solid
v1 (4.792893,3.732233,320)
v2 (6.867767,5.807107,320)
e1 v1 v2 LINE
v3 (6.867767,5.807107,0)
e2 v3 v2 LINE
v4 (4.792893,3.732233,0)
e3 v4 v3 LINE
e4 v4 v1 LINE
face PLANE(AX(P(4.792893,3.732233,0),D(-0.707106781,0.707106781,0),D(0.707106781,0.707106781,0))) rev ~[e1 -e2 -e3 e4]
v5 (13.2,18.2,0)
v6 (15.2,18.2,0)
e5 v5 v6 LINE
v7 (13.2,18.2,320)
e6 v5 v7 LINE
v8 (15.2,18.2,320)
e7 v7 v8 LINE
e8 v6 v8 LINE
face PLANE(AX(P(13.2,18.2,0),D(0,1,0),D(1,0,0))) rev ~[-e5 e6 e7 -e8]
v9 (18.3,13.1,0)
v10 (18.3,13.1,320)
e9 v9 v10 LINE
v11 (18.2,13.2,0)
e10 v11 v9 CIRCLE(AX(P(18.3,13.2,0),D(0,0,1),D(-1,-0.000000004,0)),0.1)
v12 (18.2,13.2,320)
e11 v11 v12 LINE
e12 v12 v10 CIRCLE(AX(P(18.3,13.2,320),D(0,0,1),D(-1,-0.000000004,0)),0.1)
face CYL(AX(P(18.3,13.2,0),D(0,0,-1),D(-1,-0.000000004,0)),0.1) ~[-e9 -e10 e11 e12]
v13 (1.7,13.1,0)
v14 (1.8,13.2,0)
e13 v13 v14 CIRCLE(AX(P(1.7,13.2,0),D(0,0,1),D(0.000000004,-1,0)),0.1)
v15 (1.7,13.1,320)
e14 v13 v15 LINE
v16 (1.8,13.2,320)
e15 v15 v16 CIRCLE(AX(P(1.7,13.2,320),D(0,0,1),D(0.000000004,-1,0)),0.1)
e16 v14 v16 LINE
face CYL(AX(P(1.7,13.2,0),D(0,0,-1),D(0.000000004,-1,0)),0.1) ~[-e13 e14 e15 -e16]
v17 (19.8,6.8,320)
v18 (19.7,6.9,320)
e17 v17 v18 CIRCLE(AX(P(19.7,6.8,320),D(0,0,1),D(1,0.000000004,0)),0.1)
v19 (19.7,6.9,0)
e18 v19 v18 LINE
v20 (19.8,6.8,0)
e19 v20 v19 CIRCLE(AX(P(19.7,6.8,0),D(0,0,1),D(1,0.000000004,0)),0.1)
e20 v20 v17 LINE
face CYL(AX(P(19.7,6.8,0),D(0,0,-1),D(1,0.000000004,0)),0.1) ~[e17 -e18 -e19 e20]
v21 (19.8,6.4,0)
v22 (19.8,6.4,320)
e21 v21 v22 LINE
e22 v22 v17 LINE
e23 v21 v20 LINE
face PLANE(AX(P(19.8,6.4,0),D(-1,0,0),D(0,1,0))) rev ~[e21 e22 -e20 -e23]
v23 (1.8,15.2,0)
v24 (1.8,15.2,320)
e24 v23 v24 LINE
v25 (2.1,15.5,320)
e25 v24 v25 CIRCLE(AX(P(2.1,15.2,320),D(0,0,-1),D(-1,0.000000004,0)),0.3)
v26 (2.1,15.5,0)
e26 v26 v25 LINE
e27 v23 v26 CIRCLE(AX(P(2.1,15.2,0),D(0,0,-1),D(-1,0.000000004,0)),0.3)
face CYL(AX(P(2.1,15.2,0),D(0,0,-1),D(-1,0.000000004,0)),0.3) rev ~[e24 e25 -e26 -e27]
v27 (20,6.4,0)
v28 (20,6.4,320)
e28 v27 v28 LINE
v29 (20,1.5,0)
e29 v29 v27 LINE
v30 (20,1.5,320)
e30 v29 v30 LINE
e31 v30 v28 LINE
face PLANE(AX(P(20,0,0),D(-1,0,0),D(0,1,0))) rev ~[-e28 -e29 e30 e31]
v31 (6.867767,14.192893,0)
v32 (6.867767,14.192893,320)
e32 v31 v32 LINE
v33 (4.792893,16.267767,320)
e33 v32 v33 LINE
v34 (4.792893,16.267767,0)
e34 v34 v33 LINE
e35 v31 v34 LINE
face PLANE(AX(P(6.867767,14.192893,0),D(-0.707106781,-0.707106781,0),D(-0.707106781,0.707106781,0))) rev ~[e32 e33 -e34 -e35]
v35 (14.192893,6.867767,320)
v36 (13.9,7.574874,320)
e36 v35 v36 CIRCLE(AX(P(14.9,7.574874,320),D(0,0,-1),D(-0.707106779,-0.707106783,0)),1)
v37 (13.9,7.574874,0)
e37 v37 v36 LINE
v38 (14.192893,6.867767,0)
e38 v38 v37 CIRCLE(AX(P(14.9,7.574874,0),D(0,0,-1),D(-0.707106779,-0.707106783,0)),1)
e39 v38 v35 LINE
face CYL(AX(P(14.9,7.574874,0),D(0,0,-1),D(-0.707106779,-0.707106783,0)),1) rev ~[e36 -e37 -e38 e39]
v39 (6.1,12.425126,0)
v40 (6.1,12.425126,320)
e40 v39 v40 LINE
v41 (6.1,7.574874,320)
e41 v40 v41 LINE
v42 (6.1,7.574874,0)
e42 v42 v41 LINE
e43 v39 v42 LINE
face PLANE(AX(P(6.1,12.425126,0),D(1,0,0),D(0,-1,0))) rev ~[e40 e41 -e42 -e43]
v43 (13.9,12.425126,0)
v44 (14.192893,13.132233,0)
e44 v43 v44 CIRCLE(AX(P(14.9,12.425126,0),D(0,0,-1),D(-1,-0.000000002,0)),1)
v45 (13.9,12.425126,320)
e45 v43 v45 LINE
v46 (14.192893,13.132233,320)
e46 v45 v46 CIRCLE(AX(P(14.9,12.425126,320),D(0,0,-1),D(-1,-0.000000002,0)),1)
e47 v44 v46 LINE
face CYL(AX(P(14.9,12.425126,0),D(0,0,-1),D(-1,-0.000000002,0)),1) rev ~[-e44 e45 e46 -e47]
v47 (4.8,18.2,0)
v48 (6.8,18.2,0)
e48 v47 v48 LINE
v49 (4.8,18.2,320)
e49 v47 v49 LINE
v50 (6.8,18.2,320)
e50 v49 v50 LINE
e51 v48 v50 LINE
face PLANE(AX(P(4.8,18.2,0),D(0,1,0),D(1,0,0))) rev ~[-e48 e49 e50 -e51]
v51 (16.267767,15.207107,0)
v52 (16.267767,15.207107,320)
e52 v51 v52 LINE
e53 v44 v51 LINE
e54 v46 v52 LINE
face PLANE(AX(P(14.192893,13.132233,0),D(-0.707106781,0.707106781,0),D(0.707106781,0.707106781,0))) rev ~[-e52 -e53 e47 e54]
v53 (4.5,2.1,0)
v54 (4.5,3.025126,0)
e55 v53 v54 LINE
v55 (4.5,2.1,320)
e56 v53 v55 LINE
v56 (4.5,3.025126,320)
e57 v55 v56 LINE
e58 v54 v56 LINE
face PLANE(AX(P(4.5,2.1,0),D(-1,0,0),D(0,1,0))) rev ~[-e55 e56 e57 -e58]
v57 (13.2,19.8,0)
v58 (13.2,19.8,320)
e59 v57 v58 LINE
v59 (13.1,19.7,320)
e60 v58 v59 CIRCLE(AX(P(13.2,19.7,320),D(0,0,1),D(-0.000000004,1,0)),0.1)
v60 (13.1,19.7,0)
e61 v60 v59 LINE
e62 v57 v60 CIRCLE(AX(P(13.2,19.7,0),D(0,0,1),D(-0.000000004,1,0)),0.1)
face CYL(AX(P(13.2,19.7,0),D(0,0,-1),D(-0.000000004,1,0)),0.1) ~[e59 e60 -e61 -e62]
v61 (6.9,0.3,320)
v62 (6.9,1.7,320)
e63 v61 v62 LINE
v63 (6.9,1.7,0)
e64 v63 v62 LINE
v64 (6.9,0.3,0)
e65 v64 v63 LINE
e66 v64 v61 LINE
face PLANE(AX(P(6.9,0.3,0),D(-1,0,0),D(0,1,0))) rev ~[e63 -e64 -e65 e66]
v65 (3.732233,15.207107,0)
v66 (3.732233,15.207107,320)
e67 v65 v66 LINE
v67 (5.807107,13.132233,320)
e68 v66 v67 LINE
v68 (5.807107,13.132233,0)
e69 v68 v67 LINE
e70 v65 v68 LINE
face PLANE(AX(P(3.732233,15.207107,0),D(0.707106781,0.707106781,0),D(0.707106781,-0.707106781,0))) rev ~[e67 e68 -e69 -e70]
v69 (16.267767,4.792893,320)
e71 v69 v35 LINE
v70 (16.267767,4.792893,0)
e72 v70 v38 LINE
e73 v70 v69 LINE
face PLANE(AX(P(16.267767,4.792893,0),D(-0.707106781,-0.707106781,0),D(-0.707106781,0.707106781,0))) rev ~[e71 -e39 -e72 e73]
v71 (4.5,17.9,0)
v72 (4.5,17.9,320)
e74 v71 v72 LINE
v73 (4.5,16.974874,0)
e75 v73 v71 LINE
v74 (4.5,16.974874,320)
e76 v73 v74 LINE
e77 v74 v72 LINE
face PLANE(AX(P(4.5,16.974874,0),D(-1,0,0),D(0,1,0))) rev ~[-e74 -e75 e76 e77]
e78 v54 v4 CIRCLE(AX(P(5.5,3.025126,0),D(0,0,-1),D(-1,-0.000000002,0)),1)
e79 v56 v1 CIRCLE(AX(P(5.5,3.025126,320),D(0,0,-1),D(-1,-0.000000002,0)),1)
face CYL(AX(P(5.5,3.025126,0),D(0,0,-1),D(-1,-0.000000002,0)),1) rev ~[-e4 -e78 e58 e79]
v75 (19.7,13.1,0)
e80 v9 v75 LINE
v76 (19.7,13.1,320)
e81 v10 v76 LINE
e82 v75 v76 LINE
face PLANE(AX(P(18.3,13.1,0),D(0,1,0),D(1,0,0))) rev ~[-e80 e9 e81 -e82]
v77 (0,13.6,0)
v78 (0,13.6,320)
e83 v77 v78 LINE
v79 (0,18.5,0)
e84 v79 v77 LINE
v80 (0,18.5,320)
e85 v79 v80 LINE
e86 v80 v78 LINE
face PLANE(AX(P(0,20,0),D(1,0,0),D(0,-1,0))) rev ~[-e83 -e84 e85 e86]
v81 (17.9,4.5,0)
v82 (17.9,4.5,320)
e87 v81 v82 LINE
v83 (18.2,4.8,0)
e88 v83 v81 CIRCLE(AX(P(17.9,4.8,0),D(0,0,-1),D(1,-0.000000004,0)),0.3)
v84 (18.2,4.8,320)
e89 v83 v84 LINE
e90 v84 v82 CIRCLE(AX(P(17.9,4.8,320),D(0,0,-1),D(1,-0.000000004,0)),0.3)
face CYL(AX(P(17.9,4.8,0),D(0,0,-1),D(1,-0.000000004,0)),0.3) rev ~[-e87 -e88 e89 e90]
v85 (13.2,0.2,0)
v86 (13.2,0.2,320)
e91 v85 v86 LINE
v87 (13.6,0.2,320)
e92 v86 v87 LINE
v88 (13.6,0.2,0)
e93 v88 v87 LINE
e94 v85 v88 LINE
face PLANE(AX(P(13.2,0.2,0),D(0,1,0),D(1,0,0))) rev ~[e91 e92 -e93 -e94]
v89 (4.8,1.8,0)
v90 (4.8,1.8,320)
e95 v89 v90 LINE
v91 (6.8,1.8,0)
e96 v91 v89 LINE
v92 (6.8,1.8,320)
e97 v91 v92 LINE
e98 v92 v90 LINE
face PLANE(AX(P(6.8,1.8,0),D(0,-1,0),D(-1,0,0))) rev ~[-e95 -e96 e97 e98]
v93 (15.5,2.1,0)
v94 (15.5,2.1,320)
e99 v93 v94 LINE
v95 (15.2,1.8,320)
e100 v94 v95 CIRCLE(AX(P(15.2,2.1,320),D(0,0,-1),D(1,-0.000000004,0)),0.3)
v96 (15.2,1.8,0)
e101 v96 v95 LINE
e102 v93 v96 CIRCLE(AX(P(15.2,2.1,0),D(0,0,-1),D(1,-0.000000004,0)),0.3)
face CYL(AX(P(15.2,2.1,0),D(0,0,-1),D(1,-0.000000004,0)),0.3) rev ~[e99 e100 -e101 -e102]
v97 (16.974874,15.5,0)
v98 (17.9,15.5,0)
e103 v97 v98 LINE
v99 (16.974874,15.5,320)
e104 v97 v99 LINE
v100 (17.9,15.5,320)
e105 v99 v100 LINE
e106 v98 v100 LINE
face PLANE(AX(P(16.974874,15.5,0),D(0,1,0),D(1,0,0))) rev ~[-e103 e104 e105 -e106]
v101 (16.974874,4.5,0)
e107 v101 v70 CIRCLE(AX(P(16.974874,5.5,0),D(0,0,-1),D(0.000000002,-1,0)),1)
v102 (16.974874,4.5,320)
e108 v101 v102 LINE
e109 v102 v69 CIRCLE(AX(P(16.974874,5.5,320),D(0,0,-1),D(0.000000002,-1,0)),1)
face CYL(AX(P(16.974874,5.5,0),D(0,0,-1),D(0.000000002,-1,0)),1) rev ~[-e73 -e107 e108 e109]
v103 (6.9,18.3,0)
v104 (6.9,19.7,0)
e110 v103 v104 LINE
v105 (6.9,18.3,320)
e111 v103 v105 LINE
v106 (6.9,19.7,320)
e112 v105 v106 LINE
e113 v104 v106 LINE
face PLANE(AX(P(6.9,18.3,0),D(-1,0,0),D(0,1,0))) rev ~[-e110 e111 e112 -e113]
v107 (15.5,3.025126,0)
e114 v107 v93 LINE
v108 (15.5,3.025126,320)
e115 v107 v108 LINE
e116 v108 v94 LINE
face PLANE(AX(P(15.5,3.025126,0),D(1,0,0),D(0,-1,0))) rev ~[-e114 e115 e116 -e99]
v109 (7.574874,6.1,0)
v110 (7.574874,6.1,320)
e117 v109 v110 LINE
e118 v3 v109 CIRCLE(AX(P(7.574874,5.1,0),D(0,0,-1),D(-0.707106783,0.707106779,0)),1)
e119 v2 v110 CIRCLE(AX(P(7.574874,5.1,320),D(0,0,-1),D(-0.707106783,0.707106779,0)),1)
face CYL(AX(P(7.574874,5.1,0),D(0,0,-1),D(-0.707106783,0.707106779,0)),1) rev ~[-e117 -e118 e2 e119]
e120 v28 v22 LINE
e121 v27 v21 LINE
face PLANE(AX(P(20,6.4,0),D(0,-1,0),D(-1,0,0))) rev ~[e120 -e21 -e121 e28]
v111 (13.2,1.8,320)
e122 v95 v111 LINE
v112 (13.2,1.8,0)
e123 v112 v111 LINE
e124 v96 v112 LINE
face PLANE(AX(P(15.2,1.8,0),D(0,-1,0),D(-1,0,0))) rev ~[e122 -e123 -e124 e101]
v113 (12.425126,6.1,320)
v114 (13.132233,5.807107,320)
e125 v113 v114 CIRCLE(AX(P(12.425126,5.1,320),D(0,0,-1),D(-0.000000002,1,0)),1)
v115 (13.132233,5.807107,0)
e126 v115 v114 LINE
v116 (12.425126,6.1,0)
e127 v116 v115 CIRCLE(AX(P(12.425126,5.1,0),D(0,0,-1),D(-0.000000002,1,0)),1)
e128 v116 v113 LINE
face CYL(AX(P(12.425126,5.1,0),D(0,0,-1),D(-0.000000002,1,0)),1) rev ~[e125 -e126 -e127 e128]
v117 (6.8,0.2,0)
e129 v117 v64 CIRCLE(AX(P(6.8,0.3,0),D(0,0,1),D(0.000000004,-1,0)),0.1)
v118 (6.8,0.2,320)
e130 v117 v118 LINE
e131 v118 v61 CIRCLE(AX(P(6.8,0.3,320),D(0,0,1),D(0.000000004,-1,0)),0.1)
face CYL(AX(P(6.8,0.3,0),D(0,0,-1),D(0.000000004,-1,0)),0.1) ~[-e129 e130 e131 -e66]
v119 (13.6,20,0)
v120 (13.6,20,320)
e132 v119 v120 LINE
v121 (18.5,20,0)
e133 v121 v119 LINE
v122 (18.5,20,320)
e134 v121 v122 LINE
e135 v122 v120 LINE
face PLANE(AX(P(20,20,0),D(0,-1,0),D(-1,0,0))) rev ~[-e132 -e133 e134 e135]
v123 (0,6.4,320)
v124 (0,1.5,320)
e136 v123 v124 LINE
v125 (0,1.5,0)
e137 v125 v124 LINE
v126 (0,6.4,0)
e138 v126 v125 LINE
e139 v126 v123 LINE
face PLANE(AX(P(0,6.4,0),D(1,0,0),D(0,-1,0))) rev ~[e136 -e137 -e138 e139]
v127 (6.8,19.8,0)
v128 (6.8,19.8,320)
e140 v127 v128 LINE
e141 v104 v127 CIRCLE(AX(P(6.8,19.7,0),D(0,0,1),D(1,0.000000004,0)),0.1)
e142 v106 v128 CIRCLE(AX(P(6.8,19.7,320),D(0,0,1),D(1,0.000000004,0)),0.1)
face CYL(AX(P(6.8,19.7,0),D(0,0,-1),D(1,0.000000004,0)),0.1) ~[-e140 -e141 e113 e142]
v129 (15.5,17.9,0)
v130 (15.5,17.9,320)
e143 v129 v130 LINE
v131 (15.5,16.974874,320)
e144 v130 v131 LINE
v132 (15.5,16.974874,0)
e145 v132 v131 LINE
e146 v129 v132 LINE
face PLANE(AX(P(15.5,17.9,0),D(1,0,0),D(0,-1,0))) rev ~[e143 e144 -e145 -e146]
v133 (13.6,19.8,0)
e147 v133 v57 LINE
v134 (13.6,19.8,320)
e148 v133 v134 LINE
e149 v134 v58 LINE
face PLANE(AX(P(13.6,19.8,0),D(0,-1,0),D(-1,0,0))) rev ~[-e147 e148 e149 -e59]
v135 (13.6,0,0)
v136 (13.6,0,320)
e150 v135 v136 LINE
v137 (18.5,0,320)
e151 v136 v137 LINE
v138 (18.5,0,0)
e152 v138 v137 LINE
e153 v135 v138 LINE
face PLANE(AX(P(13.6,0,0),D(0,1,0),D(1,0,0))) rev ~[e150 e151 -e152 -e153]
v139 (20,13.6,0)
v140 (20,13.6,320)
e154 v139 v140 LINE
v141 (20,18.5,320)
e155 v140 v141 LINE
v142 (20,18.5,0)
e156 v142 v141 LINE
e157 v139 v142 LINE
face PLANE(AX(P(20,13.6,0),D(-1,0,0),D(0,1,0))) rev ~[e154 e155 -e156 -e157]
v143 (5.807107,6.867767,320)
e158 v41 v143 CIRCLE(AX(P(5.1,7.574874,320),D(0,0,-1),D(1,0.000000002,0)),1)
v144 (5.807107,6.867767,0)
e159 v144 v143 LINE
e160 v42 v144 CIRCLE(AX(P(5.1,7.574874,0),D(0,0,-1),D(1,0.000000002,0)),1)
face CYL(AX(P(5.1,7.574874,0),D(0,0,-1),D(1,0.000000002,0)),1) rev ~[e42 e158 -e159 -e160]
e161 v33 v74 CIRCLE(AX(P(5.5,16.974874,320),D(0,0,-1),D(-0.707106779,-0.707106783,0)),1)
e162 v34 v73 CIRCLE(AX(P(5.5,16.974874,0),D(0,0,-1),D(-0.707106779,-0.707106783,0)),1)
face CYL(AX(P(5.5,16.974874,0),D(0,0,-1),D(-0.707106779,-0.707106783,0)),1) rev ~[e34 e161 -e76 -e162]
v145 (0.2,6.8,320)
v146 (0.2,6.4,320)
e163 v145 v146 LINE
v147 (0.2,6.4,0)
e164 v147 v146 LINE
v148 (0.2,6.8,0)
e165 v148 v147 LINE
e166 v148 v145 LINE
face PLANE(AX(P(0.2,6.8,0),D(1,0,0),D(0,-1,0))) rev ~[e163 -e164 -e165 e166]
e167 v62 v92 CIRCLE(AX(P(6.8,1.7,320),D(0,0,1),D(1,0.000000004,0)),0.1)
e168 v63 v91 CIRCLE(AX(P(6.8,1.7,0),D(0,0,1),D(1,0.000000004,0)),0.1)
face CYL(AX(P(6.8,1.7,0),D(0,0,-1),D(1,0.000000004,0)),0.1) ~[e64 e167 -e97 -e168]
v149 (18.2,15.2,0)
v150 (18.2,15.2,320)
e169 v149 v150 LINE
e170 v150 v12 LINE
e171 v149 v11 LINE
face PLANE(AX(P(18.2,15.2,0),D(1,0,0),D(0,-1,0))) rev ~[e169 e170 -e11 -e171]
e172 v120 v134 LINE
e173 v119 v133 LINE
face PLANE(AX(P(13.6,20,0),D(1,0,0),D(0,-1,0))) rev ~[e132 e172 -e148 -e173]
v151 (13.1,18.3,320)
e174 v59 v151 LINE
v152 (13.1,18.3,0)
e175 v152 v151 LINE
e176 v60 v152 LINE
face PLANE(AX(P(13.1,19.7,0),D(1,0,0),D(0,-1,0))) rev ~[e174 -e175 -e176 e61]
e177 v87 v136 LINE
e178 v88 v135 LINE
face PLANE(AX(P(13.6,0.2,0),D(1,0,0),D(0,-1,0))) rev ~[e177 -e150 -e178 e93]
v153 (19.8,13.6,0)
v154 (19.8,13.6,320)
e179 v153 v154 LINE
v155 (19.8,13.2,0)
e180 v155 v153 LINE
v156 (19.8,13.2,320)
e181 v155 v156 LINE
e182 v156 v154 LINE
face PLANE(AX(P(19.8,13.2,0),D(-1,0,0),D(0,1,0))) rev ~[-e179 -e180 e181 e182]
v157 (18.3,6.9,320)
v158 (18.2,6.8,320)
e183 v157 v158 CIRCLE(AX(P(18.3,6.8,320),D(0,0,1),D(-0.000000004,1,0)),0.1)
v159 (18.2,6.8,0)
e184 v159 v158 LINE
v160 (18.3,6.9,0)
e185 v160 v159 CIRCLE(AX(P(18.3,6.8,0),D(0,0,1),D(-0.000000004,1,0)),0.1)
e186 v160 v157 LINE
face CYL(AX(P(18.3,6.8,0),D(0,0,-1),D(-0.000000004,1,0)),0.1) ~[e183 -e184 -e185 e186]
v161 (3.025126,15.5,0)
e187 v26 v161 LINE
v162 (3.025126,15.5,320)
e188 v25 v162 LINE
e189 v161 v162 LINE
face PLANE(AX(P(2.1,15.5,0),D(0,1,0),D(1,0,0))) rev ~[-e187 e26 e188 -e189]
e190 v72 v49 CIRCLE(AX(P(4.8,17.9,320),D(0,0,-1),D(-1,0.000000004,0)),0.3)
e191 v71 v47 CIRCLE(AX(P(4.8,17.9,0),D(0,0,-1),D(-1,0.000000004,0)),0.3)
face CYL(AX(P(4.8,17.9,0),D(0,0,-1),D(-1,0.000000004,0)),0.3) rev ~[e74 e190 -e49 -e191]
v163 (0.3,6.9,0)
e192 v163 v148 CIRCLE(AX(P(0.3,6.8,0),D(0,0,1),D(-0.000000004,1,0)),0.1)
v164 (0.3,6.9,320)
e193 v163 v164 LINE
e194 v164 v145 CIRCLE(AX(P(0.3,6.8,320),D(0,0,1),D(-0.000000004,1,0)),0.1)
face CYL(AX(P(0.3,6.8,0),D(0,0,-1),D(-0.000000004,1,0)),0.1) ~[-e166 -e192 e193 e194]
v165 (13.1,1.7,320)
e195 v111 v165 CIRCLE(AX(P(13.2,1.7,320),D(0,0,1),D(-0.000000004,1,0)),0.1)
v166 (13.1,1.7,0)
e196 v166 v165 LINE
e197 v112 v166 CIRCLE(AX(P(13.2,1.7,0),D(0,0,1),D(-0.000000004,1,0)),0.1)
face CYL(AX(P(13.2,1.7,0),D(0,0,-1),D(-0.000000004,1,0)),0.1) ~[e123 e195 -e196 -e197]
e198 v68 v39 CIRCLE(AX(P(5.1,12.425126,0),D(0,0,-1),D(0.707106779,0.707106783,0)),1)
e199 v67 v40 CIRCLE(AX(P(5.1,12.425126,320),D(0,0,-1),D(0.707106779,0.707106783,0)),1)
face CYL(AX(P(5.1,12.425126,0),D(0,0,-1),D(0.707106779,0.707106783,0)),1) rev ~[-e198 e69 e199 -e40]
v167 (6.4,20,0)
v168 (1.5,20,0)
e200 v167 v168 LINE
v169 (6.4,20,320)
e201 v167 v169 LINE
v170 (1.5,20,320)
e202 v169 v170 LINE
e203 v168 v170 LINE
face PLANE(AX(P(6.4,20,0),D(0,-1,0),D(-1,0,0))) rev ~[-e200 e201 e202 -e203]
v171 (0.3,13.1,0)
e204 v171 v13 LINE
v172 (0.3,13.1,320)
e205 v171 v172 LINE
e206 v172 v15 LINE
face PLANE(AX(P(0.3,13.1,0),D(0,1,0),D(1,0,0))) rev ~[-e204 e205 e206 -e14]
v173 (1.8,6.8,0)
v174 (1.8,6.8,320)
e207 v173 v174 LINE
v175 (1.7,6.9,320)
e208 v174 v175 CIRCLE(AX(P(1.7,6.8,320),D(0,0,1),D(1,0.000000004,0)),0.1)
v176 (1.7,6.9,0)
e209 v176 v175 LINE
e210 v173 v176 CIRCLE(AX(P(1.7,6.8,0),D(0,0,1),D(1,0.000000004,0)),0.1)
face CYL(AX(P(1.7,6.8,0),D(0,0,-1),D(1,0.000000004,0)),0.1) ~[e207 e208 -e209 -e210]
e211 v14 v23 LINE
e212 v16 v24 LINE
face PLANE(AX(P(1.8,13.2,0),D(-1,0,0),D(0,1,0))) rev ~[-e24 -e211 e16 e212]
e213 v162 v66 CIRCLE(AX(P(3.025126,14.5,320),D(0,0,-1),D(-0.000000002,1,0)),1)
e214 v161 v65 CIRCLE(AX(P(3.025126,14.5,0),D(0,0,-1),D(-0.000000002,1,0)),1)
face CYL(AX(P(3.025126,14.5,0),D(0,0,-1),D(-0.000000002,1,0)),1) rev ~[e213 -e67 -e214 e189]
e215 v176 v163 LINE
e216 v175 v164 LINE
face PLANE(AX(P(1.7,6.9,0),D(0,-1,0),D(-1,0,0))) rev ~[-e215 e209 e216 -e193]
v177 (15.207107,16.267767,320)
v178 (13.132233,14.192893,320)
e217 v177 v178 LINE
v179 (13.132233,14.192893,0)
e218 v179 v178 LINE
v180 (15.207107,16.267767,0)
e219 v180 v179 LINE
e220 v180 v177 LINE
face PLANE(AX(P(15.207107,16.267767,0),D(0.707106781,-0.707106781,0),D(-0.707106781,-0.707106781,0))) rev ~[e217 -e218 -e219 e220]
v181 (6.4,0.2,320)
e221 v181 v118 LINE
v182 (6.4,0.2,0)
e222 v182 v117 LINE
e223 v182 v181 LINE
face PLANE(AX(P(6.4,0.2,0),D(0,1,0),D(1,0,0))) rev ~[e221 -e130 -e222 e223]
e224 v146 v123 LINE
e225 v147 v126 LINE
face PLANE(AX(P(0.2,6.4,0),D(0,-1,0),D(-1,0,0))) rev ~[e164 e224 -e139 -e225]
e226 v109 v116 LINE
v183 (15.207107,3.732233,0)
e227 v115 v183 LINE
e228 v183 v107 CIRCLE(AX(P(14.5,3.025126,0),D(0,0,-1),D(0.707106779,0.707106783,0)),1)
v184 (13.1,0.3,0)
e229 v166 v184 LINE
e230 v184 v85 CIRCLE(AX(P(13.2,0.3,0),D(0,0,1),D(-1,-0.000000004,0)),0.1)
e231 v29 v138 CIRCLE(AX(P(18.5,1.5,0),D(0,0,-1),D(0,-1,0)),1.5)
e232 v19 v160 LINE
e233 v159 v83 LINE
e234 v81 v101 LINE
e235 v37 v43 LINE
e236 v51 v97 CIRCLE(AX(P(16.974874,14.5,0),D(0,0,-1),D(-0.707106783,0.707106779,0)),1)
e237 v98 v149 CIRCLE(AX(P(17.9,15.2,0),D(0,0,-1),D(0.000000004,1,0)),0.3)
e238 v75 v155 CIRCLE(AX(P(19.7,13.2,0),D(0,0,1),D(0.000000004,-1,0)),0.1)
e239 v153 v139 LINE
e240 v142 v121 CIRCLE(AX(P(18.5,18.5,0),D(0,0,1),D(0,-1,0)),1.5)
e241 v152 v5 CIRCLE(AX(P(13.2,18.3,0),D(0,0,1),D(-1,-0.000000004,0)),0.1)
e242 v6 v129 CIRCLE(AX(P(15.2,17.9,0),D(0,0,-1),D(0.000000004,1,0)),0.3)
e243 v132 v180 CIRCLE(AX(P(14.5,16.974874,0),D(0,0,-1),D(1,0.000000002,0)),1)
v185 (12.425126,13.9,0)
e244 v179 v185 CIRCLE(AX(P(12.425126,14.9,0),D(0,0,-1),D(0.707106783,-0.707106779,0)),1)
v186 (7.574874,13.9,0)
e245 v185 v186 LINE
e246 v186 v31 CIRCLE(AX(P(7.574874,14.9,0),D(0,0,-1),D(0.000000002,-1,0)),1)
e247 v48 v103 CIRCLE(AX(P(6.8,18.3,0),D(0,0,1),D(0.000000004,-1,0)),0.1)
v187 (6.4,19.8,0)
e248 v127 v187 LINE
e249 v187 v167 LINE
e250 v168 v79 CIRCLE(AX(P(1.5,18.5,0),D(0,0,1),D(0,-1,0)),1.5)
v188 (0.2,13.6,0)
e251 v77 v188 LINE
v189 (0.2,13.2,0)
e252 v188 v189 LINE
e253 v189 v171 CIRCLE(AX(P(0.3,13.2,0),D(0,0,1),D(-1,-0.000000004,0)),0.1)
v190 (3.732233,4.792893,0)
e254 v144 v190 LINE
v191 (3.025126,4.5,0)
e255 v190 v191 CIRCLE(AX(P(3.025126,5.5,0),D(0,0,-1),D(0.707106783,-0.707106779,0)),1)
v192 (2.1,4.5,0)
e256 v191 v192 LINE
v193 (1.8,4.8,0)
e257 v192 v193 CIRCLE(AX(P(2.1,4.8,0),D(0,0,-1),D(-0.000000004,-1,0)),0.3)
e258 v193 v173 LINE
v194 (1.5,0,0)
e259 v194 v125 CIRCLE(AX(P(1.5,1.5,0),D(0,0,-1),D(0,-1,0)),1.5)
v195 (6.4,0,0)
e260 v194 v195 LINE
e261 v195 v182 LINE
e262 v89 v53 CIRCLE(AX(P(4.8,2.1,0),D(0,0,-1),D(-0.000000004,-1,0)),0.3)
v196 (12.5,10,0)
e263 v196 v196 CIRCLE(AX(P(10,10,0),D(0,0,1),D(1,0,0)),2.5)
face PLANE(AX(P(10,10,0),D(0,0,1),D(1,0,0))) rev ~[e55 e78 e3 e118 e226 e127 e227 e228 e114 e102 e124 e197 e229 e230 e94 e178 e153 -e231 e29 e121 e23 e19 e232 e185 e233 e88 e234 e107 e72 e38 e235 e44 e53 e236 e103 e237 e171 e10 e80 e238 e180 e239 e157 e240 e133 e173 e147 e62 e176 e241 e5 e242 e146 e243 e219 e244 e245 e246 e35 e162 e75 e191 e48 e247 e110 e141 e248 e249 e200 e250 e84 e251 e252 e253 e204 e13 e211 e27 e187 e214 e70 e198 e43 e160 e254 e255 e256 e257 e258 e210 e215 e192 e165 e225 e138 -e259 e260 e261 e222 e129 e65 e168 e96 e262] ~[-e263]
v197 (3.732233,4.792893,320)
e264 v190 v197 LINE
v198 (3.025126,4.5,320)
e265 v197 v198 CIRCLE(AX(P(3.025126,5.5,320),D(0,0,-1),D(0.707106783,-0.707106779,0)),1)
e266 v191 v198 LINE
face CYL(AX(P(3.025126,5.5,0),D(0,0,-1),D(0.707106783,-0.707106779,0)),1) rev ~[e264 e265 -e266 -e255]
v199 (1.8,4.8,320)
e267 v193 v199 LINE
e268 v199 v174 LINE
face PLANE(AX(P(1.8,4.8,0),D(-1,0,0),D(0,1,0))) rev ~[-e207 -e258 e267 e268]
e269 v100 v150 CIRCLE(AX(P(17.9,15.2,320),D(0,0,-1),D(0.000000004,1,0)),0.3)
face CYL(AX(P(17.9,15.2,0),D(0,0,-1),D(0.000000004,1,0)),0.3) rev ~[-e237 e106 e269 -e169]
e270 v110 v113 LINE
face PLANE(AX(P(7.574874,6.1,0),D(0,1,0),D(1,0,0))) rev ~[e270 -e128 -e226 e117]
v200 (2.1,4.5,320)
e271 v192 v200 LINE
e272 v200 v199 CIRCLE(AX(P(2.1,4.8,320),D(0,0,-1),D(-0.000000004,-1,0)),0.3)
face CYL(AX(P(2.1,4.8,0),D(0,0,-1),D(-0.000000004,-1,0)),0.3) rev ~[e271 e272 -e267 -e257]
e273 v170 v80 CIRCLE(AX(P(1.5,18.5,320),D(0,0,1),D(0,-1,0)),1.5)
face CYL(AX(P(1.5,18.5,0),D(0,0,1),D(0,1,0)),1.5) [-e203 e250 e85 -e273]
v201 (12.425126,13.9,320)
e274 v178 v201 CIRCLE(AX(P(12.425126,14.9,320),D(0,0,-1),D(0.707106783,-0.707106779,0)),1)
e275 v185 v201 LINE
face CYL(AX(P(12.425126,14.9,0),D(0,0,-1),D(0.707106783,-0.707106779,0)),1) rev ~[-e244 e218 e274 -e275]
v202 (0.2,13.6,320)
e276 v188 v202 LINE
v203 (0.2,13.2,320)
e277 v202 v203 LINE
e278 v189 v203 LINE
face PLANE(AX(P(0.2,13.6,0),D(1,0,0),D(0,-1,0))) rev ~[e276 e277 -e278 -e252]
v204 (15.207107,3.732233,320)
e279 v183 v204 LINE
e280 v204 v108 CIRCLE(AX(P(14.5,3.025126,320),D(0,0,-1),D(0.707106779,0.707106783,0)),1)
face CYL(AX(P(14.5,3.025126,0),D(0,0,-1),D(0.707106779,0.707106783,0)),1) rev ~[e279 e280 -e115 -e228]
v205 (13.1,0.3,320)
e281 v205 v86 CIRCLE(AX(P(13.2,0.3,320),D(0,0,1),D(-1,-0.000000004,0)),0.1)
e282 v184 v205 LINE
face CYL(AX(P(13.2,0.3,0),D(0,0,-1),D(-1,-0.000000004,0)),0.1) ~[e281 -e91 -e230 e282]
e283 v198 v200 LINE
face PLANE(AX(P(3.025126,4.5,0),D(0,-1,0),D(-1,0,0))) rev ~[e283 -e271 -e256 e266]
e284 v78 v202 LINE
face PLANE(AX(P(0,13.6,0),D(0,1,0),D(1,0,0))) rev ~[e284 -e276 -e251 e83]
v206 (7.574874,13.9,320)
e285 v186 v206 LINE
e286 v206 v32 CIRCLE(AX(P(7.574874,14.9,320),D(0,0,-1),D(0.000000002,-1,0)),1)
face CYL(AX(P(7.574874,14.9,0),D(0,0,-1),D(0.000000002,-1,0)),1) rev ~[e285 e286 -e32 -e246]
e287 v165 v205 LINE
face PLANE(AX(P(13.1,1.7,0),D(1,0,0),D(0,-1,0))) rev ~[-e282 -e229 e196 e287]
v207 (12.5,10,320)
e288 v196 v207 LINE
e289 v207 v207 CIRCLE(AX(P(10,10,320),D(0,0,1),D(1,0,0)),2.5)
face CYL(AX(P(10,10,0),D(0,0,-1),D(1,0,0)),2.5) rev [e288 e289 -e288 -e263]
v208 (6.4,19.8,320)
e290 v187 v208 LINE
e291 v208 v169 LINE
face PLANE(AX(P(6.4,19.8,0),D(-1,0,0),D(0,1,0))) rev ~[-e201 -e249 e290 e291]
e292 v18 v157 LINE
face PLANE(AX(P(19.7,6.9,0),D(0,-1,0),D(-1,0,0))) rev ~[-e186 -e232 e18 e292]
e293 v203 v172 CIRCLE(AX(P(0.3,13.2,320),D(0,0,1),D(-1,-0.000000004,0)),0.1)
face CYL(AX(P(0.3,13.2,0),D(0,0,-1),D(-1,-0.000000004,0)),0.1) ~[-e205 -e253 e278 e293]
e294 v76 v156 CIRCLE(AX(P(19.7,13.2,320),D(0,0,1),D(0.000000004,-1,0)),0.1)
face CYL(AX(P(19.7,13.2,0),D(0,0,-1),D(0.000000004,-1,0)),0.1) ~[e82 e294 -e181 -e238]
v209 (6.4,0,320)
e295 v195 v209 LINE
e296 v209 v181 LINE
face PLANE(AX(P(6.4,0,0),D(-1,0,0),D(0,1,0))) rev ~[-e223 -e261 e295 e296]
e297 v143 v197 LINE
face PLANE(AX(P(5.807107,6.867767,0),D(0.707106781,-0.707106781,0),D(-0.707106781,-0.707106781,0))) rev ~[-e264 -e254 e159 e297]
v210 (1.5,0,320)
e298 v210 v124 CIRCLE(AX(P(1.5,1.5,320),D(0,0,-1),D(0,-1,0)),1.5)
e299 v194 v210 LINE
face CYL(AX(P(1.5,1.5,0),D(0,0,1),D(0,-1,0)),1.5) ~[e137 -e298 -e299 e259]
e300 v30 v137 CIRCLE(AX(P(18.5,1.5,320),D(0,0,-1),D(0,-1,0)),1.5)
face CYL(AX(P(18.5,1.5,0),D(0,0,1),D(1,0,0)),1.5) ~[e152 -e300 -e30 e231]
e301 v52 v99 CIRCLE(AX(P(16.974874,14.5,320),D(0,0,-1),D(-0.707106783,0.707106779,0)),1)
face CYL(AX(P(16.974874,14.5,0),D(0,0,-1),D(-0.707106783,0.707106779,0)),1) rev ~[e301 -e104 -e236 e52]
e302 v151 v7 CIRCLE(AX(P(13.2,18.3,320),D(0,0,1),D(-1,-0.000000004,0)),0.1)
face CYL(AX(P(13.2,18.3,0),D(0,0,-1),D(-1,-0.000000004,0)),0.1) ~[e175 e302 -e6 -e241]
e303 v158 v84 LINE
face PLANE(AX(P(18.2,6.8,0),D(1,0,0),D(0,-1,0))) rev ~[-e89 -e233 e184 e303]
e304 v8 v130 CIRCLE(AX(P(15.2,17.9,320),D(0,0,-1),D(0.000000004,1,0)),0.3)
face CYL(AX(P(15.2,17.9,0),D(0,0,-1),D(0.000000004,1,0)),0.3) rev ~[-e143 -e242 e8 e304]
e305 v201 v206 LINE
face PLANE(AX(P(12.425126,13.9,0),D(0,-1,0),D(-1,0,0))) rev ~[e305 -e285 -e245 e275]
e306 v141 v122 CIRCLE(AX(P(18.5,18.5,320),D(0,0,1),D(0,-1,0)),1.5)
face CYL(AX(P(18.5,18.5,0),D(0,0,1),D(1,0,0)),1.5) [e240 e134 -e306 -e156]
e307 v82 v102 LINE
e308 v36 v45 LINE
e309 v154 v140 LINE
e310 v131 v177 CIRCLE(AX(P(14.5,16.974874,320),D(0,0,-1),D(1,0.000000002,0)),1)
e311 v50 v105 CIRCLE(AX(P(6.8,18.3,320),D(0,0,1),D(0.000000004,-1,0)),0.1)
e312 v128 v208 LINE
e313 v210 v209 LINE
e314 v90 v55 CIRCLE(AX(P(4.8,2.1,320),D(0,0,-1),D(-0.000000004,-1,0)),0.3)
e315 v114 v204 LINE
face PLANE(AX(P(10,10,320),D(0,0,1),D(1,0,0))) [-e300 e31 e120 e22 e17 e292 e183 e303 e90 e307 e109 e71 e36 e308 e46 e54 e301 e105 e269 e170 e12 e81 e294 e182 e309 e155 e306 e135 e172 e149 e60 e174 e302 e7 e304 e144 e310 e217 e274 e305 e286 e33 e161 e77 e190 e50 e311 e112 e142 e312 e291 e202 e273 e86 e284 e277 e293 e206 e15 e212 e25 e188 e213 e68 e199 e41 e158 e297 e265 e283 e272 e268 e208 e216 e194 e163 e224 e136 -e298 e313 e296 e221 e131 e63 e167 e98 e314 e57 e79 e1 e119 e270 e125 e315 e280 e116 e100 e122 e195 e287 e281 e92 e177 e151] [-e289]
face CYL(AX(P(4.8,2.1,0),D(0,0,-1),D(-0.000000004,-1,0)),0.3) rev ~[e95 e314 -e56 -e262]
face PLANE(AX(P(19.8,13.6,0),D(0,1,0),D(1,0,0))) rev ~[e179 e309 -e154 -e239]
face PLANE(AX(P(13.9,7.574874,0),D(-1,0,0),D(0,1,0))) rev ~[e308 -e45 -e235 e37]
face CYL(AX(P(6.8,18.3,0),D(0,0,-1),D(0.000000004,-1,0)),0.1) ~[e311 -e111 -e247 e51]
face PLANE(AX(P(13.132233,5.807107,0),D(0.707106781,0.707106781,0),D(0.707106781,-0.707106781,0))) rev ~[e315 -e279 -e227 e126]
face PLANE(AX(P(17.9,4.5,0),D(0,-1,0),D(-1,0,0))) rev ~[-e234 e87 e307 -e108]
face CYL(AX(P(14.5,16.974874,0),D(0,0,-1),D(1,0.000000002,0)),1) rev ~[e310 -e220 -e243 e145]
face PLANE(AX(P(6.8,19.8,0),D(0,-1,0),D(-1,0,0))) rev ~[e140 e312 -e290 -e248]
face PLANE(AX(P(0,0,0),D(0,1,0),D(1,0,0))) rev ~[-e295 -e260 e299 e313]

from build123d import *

# Parameters (mm, degrees)
SKETCH_1_R      = 2.5
EXTRUDE_1_DEPTH = 320
FILLET_1_R      = 1.5


with BuildPart() as part:
    # 草图1 → 凸台-拉伸1 (new body)
    with BuildSketch(Plane.XY):
        with BuildLine():
            Line((20, 13.6), (20, 20))
            Line((20, 20), (13.6, 20))
            Line((13.6, 20), (13.6, 19.8))
            Line((13.6, 19.8), (13.2, 19.8))
            ThreePointArc((13.2, 19.8), (13.129289322, 19.770710678), (13.1, 19.7))
            Line((13.1, 19.7), (13.1, 18.3))
            ThreePointArc((13.1, 18.3), (13.129289322, 18.229289322), (13.2, 18.2))
            Line((13.2, 18.2), (15.2, 18.2))
            ThreePointArc((15.2, 18.2), (15.412132034, 18.112132034), (15.5, 17.9))
            Line((15.5, 17.9), (15.5, 16.974873734))
            ThreePointArc((15.5, 16.974873734), (15.423879533, 16.592190302), (15.207106781, 16.267766953))
            Line((15.207106781, 16.267766953), (13.132233047, 14.192893219))
            ThreePointArc((13.132233047, 14.192893219), (12.807809698, 13.976120467), (12.425126266, 13.9))
            Line((12.425126266, 13.9), (7.574873734, 13.9))
            ThreePointArc((7.574873734, 13.9), (7.192190302, 13.976120467), (6.867766953, 14.192893219))
            Line((6.867766953, 14.192893219), (4.792893219, 16.267766953))
            ThreePointArc((4.792893219, 16.267766953), (4.576120467, 16.592190302), (4.5, 16.974873734))
            Line((4.5, 16.974873734), (4.5, 17.9))
            ThreePointArc((4.5, 17.9), (4.587867966, 18.112132034), (4.8, 18.2))
            Line((4.8, 18.2), (6.8, 18.2))
            ThreePointArc((6.8, 18.2), (6.870710678, 18.229289322), (6.9, 18.3))
            Line((6.9, 18.3), (6.9, 19.7))
            ThreePointArc((6.9, 19.7), (6.870710678, 19.770710678), (6.8, 19.8))
            Line((6.8, 19.8), (6.4, 19.8))
            Line((6.4, 19.8), (6.4, 20))
            Line((6.4, 20), (0, 20))
            Line((0, 20), (0, 13.6))
            Line((0, 13.6), (0.2, 13.6))
            Line((0.2, 13.6), (0.2, 13.2))
            ThreePointArc((0.2, 13.2), (0.229289322, 13.129289322), (0.3, 13.1))
            Line((0.3, 13.1), (1.7, 13.1))
            ThreePointArc((1.7, 13.1), (1.770710678, 13.129289322), (1.8, 13.2))
            Line((1.8, 13.2), (1.8, 15.2))
            ThreePointArc((1.8, 15.2), (1.887867966, 15.412132034), (2.1, 15.5))
            Line((2.1, 15.5), (3.025126266, 15.5))
            ThreePointArc((3.025126266, 15.5), (3.407809698, 15.423879533), (3.732233047, 15.207106781))
            Line((3.732233047, 15.207106781), (5.807106781, 13.132233047))
            ThreePointArc((5.807106781, 13.132233047), (6.023879533, 12.807809698), (6.1, 12.425126266))
            Line((6.1, 12.425126266), (6.1, 7.574873734))
            ThreePointArc((6.1, 7.574873734), (6.023879533, 7.192190302), (5.807106781, 6.867766953))
            Line((5.807106781, 6.867766953), (3.732233047, 4.792893219))
            ThreePointArc((3.732233047, 4.792893219), (3.407809698, 4.576120467), (3.025126266, 4.5))
            Line((3.025126266, 4.5), (2.1, 4.5))
            ThreePointArc((2.1, 4.5), (1.887867966, 4.587867966), (1.8, 4.8))
            Line((1.8, 4.8), (1.8, 6.8))
            ThreePointArc((1.8, 6.8), (1.770710678, 6.870710678), (1.7, 6.9))
            Line((1.7, 6.9), (0.3, 6.9))
            ThreePointArc((0.3, 6.9), (0.229289322, 6.870710678), (0.2, 6.8))
            Line((0.2, 6.8), (0.2, 6.4))
            Line((0.2, 6.4), (0, 6.4))
            Line((0, 6.4), (0, 0))
            Line((0, 0), (6.4, 0))
            Line((6.4, 0), (6.4, 0.2))
            Line((6.4, 0.2), (6.8, 0.2))
            ThreePointArc((6.8, 0.2), (6.870710678, 0.229289322), (6.9, 0.3))
            Line((6.9, 0.3), (6.9, 1.7))
            ThreePointArc((6.9, 1.7), (6.870710678, 1.770710678), (6.8, 1.8))
            Line((6.8, 1.8), (4.8, 1.8))
            ThreePointArc((4.8, 1.8), (4.587867966, 1.887867966), (4.5, 2.1))
            Line((4.5, 2.1), (4.5, 3.025126266))
            ThreePointArc((4.5, 3.025126266), (4.576120467, 3.407809698), (4.792893219, 3.732233047))
            Line((4.792893219, 3.732233047), (6.867766953, 5.807106781))
            ThreePointArc((6.867766953, 5.807106781), (7.192190302, 6.023879533), (7.574873734, 6.1))
            Line((7.574873734, 6.1), (12.425126266, 6.1))
            ThreePointArc((12.425126266, 6.1), (12.807809698, 6.023879533), (13.132233047, 5.807106781))
            Line((13.132233047, 5.807106781), (15.207106781, 3.732233047))
            ThreePointArc((15.207106781, 3.732233047), (15.423879533, 3.407809698), (15.5, 3.025126266))
            Line((15.5, 3.025126266), (15.5, 2.1))
            ThreePointArc((15.5, 2.1), (15.412132034, 1.887867966), (15.2, 1.8))
            Line((15.2, 1.8), (13.2, 1.8))
            ThreePointArc((13.2, 1.8), (13.129289322, 1.770710678), (13.1, 1.7))
            Line((13.1, 1.7), (13.1, 0.3))
            ThreePointArc((13.1, 0.3), (13.129289322, 0.229289322), (13.2, 0.2))
            Line((13.2, 0.2), (13.6, 0.2))
            Line((13.6, 0.2), (13.6, 0))
            Line((13.6, 0), (20, 0))
            Line((20, 0), (20, 6.4))
            Line((20, 6.4), (19.8, 6.4))
            Line((19.8, 6.4), (19.8, 6.8))
            ThreePointArc((19.8, 6.8), (19.770710678, 6.870710678), (19.7, 6.9))
            Line((19.7, 6.9), (18.3, 6.9))
            ThreePointArc((18.3, 6.9), (18.229289322, 6.870710678), (18.2, 6.8))
            Line((18.2, 6.8), (18.2, 4.8))
            ThreePointArc((18.2, 4.8), (18.112132034, 4.587867966), (17.9, 4.5))
            Line((17.9, 4.5), (16.974873734, 4.5))
            ThreePointArc((16.974873734, 4.5), (16.592190302, 4.576120467), (16.267766953, 4.792893219))
            Line((16.267766953, 4.792893219), (14.192893219, 6.867766953))
            ThreePointArc((14.192893219, 6.867766953), (13.976120467, 7.192190302), (13.9, 7.574873734))
            Line((13.9, 7.574873734), (13.9, 12.425126266))
            ThreePointArc((13.9, 12.425126266), (13.976120467, 12.807809698), (14.192893219, 13.132233047))
            Line((14.192893219, 13.132233047), (16.267766953, 15.207106781))
            ThreePointArc((16.267766953, 15.207106781), (16.592190302, 15.423879533), (16.974873734, 15.5))
            Line((16.974873734, 15.5), (17.9, 15.5))
            ThreePointArc((17.9, 15.5), (18.112132034, 15.412132034), (18.2, 15.2))
            Line((18.2, 15.2), (18.2, 13.2))
            ThreePointArc((18.2, 13.2), (18.229289322, 13.129289322), (18.3, 13.1))
            Line((18.3, 13.1), (19.7, 13.1))
            ThreePointArc((19.7, 13.1), (19.770710678, 13.129289322), (19.8, 13.2))
            Line((19.8, 13.2), (19.8, 13.6))
            Line((19.8, 13.6), (20, 13.6))
        make_face()
        with Locations((10, 10)):
            Circle(SKETCH_1_R, mode=Mode.SUBTRACT)
    extrude(amount=EXTRUDE_1_DEPTH)

    # 圆角1
    fillet_1_edges = [part.edges().sort_by_distance(p)[0] for p in [
        (0, 0, 160),
        (0, 20, 160),
        (20, 20, 160),
        (20, 0, 160),
    ]]
    fillet(fillet_1_edges, radius=FILLET_1_R)


solid = part.part
